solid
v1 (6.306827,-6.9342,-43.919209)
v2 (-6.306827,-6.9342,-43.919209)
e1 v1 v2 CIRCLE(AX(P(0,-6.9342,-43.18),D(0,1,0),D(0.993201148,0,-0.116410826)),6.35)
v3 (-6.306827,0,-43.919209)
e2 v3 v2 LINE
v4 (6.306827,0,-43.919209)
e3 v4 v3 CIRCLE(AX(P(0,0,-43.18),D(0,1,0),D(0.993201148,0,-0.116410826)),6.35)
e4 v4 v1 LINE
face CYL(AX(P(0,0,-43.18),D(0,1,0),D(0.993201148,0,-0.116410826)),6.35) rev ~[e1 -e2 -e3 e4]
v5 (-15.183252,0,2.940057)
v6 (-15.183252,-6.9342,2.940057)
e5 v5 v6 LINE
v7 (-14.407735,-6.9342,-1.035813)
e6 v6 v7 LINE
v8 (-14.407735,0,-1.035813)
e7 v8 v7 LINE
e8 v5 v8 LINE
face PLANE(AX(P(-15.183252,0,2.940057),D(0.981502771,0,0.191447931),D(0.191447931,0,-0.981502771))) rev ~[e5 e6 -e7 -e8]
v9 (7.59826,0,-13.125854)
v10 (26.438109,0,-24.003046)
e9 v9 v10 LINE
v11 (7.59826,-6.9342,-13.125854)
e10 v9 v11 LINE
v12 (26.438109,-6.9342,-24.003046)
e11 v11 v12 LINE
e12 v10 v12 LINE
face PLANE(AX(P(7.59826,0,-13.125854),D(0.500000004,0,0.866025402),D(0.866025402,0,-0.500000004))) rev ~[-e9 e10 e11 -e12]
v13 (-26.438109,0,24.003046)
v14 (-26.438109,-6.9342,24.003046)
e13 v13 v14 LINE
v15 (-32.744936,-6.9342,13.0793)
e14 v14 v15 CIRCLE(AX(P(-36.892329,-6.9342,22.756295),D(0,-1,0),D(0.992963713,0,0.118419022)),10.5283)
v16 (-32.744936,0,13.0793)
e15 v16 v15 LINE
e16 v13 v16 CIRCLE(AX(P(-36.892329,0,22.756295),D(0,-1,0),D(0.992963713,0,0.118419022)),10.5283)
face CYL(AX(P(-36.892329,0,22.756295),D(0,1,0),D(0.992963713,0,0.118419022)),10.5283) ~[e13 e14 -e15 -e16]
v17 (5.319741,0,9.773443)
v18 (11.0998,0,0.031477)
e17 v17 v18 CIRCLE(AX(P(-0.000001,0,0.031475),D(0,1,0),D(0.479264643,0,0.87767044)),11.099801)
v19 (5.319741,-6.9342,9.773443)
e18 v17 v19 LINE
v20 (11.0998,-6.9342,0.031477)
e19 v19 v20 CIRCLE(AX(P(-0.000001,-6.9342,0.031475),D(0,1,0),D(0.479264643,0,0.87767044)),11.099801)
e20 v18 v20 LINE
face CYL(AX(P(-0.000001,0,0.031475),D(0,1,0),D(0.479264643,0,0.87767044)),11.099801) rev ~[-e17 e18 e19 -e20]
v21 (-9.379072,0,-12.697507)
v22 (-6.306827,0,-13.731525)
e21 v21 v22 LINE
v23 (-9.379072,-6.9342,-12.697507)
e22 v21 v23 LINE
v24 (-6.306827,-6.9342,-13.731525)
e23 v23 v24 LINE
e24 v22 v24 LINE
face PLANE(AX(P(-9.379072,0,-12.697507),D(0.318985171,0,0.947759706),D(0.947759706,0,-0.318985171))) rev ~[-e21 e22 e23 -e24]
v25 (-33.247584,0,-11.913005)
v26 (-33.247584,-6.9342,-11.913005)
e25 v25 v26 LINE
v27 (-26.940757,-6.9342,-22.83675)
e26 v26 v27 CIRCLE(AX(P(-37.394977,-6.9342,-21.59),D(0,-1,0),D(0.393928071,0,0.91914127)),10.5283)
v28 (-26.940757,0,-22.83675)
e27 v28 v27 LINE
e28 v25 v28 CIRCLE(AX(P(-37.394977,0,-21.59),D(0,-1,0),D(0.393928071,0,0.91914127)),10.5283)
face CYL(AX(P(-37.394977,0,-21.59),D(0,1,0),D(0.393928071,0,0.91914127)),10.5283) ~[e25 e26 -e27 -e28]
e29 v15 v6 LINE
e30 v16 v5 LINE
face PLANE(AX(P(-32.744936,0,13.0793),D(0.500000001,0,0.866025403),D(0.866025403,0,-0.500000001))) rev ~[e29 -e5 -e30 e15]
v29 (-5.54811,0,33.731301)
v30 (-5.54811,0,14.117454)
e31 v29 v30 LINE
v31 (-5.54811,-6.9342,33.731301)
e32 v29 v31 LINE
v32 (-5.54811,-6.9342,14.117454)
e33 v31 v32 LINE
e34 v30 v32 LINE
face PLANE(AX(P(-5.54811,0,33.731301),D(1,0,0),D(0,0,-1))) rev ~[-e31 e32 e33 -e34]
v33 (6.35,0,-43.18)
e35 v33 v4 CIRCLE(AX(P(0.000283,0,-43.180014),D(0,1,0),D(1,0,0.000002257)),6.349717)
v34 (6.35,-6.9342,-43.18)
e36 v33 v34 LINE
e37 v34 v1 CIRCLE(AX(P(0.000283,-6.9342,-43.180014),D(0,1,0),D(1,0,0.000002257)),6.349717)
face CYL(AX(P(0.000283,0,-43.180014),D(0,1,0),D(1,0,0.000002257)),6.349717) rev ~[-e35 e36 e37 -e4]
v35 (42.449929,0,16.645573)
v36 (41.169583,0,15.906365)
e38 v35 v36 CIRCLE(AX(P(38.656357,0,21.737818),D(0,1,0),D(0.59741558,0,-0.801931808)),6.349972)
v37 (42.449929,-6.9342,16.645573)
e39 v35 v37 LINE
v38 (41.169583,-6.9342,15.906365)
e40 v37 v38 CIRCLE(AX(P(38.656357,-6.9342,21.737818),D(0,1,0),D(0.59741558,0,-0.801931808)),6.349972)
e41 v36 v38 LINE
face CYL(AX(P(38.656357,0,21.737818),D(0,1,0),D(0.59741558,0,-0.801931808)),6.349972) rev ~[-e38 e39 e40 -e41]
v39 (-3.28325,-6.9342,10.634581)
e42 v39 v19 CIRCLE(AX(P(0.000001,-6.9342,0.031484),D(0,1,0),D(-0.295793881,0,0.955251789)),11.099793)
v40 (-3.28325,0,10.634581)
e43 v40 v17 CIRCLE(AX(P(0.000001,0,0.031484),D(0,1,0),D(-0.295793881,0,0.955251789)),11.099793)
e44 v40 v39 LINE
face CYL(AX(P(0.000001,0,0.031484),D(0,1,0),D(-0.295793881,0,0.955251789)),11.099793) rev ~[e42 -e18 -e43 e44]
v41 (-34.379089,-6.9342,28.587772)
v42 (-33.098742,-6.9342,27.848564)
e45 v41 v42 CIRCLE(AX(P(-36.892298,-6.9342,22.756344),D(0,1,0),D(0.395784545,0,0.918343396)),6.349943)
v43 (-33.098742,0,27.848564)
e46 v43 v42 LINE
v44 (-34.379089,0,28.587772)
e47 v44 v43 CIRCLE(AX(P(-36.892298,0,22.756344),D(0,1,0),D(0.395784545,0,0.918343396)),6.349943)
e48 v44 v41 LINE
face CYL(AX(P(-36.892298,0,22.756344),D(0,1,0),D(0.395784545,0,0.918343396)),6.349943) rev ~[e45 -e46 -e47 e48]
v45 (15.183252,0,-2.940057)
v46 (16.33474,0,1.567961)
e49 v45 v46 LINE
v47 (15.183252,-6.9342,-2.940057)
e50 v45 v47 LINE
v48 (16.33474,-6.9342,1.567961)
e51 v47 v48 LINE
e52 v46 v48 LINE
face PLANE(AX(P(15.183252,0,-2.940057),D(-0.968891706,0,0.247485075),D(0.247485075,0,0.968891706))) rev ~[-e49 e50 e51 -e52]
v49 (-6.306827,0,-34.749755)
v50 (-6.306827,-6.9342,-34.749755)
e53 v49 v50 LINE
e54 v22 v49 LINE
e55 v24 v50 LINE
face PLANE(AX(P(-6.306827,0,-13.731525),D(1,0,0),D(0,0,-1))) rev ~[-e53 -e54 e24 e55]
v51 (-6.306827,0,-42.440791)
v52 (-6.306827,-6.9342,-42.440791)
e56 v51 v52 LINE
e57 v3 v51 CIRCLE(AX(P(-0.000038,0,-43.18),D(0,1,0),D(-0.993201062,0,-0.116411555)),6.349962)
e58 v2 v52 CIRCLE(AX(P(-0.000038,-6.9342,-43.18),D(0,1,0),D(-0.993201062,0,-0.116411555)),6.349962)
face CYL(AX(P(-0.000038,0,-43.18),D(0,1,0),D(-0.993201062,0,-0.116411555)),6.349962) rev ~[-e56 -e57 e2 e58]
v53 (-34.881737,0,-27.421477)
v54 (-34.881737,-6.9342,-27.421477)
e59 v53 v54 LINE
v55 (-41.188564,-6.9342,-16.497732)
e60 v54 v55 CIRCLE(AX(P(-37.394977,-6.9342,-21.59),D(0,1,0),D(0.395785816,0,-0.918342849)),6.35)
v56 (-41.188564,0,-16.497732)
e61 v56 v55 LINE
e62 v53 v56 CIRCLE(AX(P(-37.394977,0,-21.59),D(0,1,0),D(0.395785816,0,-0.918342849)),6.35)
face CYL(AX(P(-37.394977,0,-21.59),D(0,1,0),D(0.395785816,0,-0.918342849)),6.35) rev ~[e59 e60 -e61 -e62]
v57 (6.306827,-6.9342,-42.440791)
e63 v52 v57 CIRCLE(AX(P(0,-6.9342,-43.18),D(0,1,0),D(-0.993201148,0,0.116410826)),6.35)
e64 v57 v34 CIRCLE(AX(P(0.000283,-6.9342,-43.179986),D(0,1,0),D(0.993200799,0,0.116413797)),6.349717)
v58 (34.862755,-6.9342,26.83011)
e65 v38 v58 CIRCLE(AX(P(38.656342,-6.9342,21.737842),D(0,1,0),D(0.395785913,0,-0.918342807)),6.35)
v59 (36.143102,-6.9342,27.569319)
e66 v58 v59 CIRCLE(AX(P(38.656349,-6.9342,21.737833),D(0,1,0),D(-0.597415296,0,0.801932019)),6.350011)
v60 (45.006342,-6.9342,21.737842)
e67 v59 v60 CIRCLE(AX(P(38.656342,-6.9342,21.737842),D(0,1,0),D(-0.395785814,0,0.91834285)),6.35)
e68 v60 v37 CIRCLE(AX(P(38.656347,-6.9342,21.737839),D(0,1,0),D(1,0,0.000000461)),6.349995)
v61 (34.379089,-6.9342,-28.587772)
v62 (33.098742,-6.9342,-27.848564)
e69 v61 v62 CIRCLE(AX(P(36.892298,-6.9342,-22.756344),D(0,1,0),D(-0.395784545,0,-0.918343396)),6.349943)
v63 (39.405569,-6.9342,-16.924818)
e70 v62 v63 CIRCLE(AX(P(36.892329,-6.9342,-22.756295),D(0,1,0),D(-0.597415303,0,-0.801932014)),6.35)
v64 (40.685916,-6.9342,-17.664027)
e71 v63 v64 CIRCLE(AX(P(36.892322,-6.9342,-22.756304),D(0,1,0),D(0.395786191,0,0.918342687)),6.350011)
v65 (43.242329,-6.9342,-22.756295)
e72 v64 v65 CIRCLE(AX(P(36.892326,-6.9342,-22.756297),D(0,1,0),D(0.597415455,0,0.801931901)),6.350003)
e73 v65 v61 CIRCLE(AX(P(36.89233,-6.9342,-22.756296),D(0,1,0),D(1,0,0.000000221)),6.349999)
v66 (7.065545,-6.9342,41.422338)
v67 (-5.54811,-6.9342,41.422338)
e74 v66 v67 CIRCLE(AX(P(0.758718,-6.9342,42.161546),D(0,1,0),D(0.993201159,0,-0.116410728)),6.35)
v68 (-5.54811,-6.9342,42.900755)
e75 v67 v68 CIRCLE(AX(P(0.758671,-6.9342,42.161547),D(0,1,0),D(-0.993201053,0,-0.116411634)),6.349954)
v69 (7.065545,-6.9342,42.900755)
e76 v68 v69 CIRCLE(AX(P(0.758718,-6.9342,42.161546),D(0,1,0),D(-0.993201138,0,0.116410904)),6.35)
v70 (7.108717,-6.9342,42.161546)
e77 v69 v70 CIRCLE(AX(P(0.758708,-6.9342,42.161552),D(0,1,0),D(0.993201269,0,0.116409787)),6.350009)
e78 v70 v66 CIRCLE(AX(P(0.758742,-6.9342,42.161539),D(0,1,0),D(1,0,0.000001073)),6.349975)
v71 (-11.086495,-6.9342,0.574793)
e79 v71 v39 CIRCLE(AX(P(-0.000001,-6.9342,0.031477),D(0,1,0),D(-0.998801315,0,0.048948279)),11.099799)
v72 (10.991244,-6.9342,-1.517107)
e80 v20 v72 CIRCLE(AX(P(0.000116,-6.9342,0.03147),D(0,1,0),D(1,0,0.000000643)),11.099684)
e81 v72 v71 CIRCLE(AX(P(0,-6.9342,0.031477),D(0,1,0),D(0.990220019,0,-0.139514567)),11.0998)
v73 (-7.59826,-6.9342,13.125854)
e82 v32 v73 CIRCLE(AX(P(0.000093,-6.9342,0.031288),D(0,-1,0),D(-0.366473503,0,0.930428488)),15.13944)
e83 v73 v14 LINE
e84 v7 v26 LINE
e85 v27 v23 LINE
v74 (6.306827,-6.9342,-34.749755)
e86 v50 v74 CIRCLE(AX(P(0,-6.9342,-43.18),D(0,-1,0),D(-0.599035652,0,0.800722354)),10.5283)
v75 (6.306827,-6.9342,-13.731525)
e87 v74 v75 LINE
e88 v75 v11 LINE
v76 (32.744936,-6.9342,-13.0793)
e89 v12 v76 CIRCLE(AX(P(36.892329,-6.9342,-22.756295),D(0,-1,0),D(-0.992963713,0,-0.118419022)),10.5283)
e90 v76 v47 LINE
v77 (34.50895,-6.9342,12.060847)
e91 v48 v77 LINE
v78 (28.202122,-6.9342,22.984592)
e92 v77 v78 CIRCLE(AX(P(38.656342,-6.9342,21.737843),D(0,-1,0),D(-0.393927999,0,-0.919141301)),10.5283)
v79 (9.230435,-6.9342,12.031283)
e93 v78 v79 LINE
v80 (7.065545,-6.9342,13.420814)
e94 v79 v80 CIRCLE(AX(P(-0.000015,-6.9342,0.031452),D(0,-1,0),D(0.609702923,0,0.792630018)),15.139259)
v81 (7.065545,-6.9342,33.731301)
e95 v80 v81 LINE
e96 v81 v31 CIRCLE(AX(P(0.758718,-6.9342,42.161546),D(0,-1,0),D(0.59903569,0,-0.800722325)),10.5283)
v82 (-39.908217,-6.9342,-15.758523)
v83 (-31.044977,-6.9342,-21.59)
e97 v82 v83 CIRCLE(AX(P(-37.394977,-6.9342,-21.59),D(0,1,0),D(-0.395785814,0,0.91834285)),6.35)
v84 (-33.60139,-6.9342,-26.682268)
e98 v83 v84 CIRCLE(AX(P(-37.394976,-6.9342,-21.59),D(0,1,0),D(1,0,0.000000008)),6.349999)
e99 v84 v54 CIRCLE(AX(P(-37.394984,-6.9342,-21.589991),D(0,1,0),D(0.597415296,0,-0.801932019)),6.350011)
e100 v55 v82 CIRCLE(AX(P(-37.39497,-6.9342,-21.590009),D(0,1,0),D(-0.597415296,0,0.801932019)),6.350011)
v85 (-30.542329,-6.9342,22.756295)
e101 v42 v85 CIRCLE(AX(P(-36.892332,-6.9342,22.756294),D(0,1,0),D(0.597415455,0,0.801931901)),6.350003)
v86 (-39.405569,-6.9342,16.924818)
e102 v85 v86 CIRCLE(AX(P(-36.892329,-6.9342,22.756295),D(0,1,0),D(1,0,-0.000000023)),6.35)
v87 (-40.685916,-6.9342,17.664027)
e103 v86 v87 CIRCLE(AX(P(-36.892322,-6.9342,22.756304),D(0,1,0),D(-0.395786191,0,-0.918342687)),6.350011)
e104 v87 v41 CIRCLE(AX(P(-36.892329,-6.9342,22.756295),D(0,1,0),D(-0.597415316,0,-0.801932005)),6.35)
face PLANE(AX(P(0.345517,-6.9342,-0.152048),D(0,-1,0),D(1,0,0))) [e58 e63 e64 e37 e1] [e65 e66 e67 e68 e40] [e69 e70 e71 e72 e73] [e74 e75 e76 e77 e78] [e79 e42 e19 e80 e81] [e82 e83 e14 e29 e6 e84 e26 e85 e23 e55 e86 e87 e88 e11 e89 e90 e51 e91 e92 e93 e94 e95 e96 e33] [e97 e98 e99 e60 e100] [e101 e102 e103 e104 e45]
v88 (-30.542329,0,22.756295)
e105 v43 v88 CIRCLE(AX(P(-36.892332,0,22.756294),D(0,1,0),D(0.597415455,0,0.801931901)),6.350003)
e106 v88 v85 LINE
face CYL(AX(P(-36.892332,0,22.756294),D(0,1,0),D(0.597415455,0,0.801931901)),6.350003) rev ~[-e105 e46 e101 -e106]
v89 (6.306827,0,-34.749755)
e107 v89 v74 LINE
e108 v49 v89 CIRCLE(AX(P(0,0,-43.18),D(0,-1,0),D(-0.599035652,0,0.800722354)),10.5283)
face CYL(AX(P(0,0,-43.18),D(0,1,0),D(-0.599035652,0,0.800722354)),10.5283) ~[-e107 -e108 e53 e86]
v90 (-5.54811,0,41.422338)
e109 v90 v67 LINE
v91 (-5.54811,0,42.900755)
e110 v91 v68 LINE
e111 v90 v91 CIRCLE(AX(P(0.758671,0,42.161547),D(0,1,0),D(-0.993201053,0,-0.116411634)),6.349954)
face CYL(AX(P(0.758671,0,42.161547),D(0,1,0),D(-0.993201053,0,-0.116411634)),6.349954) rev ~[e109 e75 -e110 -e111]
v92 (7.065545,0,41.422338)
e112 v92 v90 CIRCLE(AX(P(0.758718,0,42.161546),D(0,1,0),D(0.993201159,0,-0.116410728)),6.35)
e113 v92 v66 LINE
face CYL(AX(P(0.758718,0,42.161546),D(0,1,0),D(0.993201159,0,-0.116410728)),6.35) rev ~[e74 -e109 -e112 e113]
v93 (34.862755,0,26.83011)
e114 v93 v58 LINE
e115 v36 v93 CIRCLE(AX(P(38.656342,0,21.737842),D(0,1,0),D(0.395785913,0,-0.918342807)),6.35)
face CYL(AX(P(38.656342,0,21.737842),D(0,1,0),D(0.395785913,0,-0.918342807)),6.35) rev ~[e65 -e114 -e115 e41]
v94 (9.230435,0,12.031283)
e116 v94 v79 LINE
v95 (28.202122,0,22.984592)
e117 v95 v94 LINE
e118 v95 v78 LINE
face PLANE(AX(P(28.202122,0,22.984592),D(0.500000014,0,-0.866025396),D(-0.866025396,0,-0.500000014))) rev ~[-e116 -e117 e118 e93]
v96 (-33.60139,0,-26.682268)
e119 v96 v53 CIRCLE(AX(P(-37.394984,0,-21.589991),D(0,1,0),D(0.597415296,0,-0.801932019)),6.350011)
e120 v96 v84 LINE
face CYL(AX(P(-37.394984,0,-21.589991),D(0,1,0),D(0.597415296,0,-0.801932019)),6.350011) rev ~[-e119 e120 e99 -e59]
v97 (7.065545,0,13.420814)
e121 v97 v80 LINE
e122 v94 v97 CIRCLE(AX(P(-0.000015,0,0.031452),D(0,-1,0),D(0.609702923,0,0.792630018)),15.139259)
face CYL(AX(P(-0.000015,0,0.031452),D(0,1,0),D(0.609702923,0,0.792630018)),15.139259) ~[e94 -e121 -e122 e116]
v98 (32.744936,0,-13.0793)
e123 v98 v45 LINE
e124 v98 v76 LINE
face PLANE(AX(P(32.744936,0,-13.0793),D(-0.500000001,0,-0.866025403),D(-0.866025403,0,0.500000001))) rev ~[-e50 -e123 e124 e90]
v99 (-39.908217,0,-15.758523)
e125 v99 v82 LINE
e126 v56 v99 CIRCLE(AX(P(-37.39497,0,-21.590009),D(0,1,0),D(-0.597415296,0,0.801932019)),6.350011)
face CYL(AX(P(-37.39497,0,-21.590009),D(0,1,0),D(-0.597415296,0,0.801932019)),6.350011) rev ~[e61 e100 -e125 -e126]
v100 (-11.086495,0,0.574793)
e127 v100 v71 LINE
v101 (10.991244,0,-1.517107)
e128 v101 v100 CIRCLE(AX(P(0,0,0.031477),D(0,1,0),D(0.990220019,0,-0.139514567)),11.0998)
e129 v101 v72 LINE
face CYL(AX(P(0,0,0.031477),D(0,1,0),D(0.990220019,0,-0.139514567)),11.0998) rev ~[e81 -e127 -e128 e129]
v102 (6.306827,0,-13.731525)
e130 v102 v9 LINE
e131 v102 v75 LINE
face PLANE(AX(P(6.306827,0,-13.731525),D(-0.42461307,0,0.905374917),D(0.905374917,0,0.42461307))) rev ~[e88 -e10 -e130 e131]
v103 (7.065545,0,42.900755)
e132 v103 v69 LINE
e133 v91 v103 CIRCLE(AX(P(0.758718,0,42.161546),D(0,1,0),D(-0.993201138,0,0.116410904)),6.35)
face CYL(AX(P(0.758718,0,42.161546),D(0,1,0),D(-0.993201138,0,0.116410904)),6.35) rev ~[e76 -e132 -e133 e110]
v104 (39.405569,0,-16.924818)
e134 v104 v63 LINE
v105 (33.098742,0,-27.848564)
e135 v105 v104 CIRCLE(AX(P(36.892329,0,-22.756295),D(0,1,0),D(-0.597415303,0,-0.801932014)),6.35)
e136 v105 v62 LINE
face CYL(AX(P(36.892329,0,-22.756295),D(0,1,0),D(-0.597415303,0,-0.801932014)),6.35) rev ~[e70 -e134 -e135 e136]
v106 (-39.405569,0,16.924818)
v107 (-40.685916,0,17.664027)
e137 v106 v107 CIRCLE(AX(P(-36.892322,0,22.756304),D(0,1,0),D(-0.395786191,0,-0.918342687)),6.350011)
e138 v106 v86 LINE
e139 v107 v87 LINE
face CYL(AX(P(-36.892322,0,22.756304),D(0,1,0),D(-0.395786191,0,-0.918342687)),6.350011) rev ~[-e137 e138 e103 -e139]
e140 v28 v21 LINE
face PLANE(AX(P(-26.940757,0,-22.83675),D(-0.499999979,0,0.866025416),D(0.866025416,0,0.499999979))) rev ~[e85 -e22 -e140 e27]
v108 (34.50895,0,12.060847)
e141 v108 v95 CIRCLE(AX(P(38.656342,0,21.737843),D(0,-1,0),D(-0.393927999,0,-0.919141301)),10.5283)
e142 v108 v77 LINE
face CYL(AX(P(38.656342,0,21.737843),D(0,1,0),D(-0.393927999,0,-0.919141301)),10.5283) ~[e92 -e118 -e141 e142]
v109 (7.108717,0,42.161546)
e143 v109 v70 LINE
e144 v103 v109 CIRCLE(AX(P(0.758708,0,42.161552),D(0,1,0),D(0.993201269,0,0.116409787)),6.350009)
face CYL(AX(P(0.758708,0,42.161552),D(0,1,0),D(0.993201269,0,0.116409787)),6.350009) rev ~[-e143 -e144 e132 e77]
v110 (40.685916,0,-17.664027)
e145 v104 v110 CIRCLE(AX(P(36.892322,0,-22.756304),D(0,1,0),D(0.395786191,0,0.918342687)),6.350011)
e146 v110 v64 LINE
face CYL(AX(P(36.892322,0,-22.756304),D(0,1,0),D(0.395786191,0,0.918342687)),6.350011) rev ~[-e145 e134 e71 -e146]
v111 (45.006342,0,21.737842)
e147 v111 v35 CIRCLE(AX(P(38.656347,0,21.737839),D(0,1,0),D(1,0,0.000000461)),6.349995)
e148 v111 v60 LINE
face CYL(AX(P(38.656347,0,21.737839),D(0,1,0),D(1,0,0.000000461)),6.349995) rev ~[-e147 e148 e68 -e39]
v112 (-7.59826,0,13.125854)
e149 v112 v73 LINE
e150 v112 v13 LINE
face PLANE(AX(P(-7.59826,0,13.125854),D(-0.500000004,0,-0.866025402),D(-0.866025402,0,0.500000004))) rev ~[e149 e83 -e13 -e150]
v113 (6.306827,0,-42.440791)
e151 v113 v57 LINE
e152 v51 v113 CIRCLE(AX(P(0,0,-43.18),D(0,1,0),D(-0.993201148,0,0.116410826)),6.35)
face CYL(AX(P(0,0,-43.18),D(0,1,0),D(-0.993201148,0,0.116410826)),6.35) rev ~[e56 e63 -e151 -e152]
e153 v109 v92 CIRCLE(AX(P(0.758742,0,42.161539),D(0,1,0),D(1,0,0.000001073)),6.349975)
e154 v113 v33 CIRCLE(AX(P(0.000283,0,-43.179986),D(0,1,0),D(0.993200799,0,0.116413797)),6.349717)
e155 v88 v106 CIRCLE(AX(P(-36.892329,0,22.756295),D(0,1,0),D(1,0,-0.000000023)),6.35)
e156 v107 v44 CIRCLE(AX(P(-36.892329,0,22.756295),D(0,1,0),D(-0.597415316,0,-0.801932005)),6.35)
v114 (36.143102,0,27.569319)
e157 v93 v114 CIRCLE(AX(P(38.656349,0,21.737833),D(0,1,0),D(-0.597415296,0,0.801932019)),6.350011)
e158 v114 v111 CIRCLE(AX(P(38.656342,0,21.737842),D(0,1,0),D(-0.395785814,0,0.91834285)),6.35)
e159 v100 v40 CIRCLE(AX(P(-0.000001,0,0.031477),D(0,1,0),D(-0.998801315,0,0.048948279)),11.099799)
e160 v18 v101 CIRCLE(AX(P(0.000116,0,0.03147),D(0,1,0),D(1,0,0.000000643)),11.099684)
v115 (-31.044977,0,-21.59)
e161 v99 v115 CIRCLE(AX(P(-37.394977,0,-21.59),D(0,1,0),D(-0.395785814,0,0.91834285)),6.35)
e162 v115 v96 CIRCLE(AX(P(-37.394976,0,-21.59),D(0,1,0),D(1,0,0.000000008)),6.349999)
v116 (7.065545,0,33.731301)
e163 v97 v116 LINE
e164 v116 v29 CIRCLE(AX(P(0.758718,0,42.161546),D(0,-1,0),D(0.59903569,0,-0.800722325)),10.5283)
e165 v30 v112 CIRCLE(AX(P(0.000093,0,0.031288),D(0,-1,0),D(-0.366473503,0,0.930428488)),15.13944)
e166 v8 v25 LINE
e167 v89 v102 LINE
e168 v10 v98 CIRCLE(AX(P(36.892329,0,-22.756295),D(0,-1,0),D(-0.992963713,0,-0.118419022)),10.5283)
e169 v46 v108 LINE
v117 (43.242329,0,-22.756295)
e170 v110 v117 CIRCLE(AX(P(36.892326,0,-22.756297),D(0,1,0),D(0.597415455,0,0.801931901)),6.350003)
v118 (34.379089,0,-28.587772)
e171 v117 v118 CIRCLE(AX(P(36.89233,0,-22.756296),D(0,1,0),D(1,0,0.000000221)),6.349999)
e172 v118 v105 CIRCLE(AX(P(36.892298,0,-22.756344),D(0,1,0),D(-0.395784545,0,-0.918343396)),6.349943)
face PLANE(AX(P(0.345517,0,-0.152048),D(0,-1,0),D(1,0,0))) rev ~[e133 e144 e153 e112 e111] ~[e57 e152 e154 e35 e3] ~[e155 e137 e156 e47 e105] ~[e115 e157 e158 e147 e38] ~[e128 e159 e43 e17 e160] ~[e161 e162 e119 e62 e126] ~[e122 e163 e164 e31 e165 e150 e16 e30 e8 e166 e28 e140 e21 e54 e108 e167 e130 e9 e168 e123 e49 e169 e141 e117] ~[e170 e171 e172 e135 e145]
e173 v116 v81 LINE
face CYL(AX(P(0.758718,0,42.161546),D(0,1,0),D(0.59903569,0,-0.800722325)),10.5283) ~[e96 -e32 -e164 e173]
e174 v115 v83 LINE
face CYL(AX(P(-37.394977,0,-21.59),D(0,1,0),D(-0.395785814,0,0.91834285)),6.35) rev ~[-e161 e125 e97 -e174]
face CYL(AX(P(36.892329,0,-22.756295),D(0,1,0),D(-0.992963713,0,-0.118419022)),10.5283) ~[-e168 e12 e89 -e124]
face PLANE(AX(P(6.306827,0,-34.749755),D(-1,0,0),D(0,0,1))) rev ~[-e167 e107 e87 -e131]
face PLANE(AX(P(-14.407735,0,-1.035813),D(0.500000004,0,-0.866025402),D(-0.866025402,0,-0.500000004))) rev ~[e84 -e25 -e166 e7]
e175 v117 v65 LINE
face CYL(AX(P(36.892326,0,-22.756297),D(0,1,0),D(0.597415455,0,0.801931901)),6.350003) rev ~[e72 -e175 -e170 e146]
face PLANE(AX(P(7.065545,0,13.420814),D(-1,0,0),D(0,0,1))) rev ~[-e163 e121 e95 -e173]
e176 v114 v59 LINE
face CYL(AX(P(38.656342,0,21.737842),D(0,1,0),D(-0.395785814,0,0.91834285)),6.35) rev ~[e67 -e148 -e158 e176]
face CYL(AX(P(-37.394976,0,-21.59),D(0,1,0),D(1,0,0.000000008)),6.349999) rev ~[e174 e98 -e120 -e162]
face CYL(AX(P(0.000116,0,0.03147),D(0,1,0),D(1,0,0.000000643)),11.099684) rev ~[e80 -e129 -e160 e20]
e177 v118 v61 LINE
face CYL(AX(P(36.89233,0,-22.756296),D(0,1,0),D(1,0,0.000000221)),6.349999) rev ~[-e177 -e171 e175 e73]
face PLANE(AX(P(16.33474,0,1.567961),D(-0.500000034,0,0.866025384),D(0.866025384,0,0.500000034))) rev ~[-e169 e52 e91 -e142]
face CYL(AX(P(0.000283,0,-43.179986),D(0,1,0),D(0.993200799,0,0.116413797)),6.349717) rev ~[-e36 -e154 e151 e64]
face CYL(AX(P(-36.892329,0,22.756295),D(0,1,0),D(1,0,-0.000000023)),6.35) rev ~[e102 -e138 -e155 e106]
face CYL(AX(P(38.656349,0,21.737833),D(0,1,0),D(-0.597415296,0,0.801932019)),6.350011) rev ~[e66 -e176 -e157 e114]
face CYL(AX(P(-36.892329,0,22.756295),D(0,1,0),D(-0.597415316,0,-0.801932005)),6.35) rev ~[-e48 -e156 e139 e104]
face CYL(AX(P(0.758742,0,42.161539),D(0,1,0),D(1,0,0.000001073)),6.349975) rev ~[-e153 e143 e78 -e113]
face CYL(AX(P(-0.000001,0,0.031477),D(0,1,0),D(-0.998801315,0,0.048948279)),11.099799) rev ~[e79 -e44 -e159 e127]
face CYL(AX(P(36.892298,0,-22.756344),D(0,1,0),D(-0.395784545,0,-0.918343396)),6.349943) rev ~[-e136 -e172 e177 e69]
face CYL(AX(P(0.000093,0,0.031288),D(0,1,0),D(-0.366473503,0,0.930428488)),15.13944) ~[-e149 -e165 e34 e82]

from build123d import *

# Parameters (mm, degrees)
F1_DEPTH = 6.9342


with BuildPart() as f1:
    # F0 (on Front) → F1 (new body)
    with BuildSketch(Plane.XZ):
        with BuildLine():
            Line((28.202122, 22.984592), (9.230435, 12.031283))
            ThreePointArc((9.230435, 12.031283), (8.177557, 12.772114), (7.065545, 13.420814))
            Line((7.065545, 13.420814), (7.065545, 33.731301))
            ThreePointArc((7.065545, 33.731301), (0.758717, 52.689846), (-5.54811, 33.731301))
            Line((-5.54811, 33.731301), (-5.54811, 14.117454))
            ThreePointArc((-5.54811, 14.117454), (-6.591857, 13.660258), (-7.59826, 13.125854))
            Line((-7.59826, 13.125854), (-26.438109, 24.003046))
            ThreePointArc((-26.438109, 24.003046), (-46.010104, 28.020445), (-32.744936, 13.0793))
            Line((-32.744936, 13.0793), (-15.183252, 2.940057))
            Line((-15.183252, 2.940057), (-14.407735, -1.035813))
            Line((-14.407735, -1.035813), (-33.247584, -11.913005))
            ThreePointArc((-33.247584, -11.913005), (-46.512752, -26.85415), (-26.940757, -22.83675))
            Line((-26.940757, -22.83675), (-9.379072, -12.697507))
            Line((-9.379072, -12.697507), (-6.306827, -13.731525))
            Line((-6.306827, -13.731525), (-6.306827, -34.749755))
            ThreePointArc((-6.306827, -34.749755), (0, -53.7083), (6.306827, -34.749755))
            Line((6.306827, -34.749755), (6.306827, -13.731525))
            Line((6.306827, -13.731525), (7.59826, -13.125854))
            Line((7.59826, -13.125854), (26.438109, -24.003046))
            ThreePointArc((26.438109, -24.003046), (46.010104, -28.020445), (32.744936, -13.0793))
            Line((32.744936, -13.0793), (15.183252, -2.940057))
            Line((15.183252, -2.940057), (16.33474, 1.567961))
            Line((16.33474, 1.567961), (34.50895, 12.060847))
            ThreePointArc((34.50895, 12.060847), (47.774118, 27.001992), (28.202122, 22.984592))
        make_face()
        with BuildLine():
            ThreePointArc((6.306827, -42.440791), (6.339198, -42.809766), (6.35, -43.18))
            ThreePointArc((6.35, -43.18), (6.339198, -43.550234), (6.306827, -43.919209))
            ThreePointArc((6.306827, -43.919209), (0, -49.53), (-6.306827, -43.919209))
            ThreePointArc((-6.306827, -43.919209), (-6.35, -43.18), (-6.306827, -42.440791))
            ThreePointArc((-6.306827, -42.440791), (0, -36.83), (6.306827, -42.440791))
        make_face(mode=Mode.SUBTRACT)
        with BuildLine():
            ThreePointArc((-34.881737, -27.421477), (-42.894238, -24.765), (-41.188564, -16.497732))
            ThreePointArc((-41.188564, -16.497732), (-40.569977, -16.090739), (-39.908217, -15.758523))
            ThreePointArc((-39.908217, -15.758523), (-33.904746, -16.285211), (-31.044977, -21.59))
            ThreePointArc((-31.044977, -21.59), (-31.719954, -24.438967), (-33.60139, -26.682268))
            ThreePointArc((-33.60139, -26.682268), (-34.219977, -27.089261), (-34.881737, -27.421477))
        make_face(mode=Mode.SUBTRACT)
        with BuildLine():
            ThreePointArc((43.242329, -22.756295), (40.38256, -28.061085), (34.379089, -28.587772))
            ThreePointArc((34.379089, -28.587772), (33.717329, -28.255557), (33.098742, -27.848564))
            ThreePointArc((33.098742, -27.848564), (31.393068, -19.581295), (39.405569, -16.924818))
            ThreePointArc((39.405569, -16.924818), (40.067329, -17.257034), (40.685916, -17.664027))
            ThreePointArc((40.685916, -17.664027), (42.567352, -19.907329), (43.242329, -22.756295))
        make_face(mode=Mode.SUBTRACT)
        with BuildLine():
            ThreePointArc((-33.098742, 27.848564), (-31.217306, 25.605262), (-30.542329, 22.756295))
            ThreePointArc((-30.542329, 22.756295), (-33.402098, 17.451506), (-39.405569, 16.924818))
            ThreePointArc((-39.405569, 16.924818), (-40.067329, 17.257034), (-40.685916, 17.664027))
            ThreePointArc((-40.685916, 17.664027), (-42.39159, 25.931295), (-34.379089, 28.587772))
            ThreePointArc((-34.379089, 28.587772), (-33.717329, 28.255557), (-33.098742, 27.848564))
        make_face(mode=Mode.SUBTRACT)
        with BuildLine():
            ThreePointArc((5.319741, 9.773443), (9.546036, 5.695287), (11.0998, 0.031477))
            ThreePointArc((11.0998, 0.031477), (11.072628, -0.744715), (10.991244, -1.517107))
            ThreePointArc((10.991244, -1.517107), (-1.047034, -11.01883), (-11.086495, 0.574793))
            ThreePointArc((-11.086495, 0.574793), (-8.770532, 6.834662), (-3.28325, 10.634581))
            ThreePointArc((-3.28325, 10.634581), (1.105538, 11.076084), (5.319741, 9.773443))
        make_face(mode=Mode.SUBTRACT)
        with BuildLine():
            ThreePointArc((36.143102, 27.569319), (42.146573, 27.042631), (45.006342, 21.737842))
            ThreePointArc((45.006342, 21.737842), (44.331366, 18.888875), (42.449929, 16.645573))
            ThreePointArc((42.449929, 16.645573), (41.831342, 16.23858), (41.169583, 15.906365))
            ThreePointArc((41.169583, 15.906365), (33.157081, 18.562842), (34.862755, 26.83011))
            ThreePointArc((34.862755, 26.83011), (35.481342, 27.237103), (36.143102, 27.569319))
        make_face(mode=Mode.SUBTRACT)
        with BuildLine():
            ThreePointArc((-5.54811, 42.900755), (0.758717, 48.511546), (7.065545, 42.900755))
            ThreePointArc((7.065545, 42.900755), (7.097915, 42.53178), (7.108717, 42.161546))
            ThreePointArc((7.108717, 42.161546), (7.097915, 41.791312), (7.065545, 41.422338))
            ThreePointArc((7.065545, 41.422338), (0.758717, 35.811546), (-5.54811, 41.422338))
            ThreePointArc((-5.54811, 41.422338), (-5.591283, 42.161546), (-5.54811, 42.900755))
        make_face(mode=Mode.SUBTRACT)
    extrude(amount=F1_DEPTH)


solid = f1.part
